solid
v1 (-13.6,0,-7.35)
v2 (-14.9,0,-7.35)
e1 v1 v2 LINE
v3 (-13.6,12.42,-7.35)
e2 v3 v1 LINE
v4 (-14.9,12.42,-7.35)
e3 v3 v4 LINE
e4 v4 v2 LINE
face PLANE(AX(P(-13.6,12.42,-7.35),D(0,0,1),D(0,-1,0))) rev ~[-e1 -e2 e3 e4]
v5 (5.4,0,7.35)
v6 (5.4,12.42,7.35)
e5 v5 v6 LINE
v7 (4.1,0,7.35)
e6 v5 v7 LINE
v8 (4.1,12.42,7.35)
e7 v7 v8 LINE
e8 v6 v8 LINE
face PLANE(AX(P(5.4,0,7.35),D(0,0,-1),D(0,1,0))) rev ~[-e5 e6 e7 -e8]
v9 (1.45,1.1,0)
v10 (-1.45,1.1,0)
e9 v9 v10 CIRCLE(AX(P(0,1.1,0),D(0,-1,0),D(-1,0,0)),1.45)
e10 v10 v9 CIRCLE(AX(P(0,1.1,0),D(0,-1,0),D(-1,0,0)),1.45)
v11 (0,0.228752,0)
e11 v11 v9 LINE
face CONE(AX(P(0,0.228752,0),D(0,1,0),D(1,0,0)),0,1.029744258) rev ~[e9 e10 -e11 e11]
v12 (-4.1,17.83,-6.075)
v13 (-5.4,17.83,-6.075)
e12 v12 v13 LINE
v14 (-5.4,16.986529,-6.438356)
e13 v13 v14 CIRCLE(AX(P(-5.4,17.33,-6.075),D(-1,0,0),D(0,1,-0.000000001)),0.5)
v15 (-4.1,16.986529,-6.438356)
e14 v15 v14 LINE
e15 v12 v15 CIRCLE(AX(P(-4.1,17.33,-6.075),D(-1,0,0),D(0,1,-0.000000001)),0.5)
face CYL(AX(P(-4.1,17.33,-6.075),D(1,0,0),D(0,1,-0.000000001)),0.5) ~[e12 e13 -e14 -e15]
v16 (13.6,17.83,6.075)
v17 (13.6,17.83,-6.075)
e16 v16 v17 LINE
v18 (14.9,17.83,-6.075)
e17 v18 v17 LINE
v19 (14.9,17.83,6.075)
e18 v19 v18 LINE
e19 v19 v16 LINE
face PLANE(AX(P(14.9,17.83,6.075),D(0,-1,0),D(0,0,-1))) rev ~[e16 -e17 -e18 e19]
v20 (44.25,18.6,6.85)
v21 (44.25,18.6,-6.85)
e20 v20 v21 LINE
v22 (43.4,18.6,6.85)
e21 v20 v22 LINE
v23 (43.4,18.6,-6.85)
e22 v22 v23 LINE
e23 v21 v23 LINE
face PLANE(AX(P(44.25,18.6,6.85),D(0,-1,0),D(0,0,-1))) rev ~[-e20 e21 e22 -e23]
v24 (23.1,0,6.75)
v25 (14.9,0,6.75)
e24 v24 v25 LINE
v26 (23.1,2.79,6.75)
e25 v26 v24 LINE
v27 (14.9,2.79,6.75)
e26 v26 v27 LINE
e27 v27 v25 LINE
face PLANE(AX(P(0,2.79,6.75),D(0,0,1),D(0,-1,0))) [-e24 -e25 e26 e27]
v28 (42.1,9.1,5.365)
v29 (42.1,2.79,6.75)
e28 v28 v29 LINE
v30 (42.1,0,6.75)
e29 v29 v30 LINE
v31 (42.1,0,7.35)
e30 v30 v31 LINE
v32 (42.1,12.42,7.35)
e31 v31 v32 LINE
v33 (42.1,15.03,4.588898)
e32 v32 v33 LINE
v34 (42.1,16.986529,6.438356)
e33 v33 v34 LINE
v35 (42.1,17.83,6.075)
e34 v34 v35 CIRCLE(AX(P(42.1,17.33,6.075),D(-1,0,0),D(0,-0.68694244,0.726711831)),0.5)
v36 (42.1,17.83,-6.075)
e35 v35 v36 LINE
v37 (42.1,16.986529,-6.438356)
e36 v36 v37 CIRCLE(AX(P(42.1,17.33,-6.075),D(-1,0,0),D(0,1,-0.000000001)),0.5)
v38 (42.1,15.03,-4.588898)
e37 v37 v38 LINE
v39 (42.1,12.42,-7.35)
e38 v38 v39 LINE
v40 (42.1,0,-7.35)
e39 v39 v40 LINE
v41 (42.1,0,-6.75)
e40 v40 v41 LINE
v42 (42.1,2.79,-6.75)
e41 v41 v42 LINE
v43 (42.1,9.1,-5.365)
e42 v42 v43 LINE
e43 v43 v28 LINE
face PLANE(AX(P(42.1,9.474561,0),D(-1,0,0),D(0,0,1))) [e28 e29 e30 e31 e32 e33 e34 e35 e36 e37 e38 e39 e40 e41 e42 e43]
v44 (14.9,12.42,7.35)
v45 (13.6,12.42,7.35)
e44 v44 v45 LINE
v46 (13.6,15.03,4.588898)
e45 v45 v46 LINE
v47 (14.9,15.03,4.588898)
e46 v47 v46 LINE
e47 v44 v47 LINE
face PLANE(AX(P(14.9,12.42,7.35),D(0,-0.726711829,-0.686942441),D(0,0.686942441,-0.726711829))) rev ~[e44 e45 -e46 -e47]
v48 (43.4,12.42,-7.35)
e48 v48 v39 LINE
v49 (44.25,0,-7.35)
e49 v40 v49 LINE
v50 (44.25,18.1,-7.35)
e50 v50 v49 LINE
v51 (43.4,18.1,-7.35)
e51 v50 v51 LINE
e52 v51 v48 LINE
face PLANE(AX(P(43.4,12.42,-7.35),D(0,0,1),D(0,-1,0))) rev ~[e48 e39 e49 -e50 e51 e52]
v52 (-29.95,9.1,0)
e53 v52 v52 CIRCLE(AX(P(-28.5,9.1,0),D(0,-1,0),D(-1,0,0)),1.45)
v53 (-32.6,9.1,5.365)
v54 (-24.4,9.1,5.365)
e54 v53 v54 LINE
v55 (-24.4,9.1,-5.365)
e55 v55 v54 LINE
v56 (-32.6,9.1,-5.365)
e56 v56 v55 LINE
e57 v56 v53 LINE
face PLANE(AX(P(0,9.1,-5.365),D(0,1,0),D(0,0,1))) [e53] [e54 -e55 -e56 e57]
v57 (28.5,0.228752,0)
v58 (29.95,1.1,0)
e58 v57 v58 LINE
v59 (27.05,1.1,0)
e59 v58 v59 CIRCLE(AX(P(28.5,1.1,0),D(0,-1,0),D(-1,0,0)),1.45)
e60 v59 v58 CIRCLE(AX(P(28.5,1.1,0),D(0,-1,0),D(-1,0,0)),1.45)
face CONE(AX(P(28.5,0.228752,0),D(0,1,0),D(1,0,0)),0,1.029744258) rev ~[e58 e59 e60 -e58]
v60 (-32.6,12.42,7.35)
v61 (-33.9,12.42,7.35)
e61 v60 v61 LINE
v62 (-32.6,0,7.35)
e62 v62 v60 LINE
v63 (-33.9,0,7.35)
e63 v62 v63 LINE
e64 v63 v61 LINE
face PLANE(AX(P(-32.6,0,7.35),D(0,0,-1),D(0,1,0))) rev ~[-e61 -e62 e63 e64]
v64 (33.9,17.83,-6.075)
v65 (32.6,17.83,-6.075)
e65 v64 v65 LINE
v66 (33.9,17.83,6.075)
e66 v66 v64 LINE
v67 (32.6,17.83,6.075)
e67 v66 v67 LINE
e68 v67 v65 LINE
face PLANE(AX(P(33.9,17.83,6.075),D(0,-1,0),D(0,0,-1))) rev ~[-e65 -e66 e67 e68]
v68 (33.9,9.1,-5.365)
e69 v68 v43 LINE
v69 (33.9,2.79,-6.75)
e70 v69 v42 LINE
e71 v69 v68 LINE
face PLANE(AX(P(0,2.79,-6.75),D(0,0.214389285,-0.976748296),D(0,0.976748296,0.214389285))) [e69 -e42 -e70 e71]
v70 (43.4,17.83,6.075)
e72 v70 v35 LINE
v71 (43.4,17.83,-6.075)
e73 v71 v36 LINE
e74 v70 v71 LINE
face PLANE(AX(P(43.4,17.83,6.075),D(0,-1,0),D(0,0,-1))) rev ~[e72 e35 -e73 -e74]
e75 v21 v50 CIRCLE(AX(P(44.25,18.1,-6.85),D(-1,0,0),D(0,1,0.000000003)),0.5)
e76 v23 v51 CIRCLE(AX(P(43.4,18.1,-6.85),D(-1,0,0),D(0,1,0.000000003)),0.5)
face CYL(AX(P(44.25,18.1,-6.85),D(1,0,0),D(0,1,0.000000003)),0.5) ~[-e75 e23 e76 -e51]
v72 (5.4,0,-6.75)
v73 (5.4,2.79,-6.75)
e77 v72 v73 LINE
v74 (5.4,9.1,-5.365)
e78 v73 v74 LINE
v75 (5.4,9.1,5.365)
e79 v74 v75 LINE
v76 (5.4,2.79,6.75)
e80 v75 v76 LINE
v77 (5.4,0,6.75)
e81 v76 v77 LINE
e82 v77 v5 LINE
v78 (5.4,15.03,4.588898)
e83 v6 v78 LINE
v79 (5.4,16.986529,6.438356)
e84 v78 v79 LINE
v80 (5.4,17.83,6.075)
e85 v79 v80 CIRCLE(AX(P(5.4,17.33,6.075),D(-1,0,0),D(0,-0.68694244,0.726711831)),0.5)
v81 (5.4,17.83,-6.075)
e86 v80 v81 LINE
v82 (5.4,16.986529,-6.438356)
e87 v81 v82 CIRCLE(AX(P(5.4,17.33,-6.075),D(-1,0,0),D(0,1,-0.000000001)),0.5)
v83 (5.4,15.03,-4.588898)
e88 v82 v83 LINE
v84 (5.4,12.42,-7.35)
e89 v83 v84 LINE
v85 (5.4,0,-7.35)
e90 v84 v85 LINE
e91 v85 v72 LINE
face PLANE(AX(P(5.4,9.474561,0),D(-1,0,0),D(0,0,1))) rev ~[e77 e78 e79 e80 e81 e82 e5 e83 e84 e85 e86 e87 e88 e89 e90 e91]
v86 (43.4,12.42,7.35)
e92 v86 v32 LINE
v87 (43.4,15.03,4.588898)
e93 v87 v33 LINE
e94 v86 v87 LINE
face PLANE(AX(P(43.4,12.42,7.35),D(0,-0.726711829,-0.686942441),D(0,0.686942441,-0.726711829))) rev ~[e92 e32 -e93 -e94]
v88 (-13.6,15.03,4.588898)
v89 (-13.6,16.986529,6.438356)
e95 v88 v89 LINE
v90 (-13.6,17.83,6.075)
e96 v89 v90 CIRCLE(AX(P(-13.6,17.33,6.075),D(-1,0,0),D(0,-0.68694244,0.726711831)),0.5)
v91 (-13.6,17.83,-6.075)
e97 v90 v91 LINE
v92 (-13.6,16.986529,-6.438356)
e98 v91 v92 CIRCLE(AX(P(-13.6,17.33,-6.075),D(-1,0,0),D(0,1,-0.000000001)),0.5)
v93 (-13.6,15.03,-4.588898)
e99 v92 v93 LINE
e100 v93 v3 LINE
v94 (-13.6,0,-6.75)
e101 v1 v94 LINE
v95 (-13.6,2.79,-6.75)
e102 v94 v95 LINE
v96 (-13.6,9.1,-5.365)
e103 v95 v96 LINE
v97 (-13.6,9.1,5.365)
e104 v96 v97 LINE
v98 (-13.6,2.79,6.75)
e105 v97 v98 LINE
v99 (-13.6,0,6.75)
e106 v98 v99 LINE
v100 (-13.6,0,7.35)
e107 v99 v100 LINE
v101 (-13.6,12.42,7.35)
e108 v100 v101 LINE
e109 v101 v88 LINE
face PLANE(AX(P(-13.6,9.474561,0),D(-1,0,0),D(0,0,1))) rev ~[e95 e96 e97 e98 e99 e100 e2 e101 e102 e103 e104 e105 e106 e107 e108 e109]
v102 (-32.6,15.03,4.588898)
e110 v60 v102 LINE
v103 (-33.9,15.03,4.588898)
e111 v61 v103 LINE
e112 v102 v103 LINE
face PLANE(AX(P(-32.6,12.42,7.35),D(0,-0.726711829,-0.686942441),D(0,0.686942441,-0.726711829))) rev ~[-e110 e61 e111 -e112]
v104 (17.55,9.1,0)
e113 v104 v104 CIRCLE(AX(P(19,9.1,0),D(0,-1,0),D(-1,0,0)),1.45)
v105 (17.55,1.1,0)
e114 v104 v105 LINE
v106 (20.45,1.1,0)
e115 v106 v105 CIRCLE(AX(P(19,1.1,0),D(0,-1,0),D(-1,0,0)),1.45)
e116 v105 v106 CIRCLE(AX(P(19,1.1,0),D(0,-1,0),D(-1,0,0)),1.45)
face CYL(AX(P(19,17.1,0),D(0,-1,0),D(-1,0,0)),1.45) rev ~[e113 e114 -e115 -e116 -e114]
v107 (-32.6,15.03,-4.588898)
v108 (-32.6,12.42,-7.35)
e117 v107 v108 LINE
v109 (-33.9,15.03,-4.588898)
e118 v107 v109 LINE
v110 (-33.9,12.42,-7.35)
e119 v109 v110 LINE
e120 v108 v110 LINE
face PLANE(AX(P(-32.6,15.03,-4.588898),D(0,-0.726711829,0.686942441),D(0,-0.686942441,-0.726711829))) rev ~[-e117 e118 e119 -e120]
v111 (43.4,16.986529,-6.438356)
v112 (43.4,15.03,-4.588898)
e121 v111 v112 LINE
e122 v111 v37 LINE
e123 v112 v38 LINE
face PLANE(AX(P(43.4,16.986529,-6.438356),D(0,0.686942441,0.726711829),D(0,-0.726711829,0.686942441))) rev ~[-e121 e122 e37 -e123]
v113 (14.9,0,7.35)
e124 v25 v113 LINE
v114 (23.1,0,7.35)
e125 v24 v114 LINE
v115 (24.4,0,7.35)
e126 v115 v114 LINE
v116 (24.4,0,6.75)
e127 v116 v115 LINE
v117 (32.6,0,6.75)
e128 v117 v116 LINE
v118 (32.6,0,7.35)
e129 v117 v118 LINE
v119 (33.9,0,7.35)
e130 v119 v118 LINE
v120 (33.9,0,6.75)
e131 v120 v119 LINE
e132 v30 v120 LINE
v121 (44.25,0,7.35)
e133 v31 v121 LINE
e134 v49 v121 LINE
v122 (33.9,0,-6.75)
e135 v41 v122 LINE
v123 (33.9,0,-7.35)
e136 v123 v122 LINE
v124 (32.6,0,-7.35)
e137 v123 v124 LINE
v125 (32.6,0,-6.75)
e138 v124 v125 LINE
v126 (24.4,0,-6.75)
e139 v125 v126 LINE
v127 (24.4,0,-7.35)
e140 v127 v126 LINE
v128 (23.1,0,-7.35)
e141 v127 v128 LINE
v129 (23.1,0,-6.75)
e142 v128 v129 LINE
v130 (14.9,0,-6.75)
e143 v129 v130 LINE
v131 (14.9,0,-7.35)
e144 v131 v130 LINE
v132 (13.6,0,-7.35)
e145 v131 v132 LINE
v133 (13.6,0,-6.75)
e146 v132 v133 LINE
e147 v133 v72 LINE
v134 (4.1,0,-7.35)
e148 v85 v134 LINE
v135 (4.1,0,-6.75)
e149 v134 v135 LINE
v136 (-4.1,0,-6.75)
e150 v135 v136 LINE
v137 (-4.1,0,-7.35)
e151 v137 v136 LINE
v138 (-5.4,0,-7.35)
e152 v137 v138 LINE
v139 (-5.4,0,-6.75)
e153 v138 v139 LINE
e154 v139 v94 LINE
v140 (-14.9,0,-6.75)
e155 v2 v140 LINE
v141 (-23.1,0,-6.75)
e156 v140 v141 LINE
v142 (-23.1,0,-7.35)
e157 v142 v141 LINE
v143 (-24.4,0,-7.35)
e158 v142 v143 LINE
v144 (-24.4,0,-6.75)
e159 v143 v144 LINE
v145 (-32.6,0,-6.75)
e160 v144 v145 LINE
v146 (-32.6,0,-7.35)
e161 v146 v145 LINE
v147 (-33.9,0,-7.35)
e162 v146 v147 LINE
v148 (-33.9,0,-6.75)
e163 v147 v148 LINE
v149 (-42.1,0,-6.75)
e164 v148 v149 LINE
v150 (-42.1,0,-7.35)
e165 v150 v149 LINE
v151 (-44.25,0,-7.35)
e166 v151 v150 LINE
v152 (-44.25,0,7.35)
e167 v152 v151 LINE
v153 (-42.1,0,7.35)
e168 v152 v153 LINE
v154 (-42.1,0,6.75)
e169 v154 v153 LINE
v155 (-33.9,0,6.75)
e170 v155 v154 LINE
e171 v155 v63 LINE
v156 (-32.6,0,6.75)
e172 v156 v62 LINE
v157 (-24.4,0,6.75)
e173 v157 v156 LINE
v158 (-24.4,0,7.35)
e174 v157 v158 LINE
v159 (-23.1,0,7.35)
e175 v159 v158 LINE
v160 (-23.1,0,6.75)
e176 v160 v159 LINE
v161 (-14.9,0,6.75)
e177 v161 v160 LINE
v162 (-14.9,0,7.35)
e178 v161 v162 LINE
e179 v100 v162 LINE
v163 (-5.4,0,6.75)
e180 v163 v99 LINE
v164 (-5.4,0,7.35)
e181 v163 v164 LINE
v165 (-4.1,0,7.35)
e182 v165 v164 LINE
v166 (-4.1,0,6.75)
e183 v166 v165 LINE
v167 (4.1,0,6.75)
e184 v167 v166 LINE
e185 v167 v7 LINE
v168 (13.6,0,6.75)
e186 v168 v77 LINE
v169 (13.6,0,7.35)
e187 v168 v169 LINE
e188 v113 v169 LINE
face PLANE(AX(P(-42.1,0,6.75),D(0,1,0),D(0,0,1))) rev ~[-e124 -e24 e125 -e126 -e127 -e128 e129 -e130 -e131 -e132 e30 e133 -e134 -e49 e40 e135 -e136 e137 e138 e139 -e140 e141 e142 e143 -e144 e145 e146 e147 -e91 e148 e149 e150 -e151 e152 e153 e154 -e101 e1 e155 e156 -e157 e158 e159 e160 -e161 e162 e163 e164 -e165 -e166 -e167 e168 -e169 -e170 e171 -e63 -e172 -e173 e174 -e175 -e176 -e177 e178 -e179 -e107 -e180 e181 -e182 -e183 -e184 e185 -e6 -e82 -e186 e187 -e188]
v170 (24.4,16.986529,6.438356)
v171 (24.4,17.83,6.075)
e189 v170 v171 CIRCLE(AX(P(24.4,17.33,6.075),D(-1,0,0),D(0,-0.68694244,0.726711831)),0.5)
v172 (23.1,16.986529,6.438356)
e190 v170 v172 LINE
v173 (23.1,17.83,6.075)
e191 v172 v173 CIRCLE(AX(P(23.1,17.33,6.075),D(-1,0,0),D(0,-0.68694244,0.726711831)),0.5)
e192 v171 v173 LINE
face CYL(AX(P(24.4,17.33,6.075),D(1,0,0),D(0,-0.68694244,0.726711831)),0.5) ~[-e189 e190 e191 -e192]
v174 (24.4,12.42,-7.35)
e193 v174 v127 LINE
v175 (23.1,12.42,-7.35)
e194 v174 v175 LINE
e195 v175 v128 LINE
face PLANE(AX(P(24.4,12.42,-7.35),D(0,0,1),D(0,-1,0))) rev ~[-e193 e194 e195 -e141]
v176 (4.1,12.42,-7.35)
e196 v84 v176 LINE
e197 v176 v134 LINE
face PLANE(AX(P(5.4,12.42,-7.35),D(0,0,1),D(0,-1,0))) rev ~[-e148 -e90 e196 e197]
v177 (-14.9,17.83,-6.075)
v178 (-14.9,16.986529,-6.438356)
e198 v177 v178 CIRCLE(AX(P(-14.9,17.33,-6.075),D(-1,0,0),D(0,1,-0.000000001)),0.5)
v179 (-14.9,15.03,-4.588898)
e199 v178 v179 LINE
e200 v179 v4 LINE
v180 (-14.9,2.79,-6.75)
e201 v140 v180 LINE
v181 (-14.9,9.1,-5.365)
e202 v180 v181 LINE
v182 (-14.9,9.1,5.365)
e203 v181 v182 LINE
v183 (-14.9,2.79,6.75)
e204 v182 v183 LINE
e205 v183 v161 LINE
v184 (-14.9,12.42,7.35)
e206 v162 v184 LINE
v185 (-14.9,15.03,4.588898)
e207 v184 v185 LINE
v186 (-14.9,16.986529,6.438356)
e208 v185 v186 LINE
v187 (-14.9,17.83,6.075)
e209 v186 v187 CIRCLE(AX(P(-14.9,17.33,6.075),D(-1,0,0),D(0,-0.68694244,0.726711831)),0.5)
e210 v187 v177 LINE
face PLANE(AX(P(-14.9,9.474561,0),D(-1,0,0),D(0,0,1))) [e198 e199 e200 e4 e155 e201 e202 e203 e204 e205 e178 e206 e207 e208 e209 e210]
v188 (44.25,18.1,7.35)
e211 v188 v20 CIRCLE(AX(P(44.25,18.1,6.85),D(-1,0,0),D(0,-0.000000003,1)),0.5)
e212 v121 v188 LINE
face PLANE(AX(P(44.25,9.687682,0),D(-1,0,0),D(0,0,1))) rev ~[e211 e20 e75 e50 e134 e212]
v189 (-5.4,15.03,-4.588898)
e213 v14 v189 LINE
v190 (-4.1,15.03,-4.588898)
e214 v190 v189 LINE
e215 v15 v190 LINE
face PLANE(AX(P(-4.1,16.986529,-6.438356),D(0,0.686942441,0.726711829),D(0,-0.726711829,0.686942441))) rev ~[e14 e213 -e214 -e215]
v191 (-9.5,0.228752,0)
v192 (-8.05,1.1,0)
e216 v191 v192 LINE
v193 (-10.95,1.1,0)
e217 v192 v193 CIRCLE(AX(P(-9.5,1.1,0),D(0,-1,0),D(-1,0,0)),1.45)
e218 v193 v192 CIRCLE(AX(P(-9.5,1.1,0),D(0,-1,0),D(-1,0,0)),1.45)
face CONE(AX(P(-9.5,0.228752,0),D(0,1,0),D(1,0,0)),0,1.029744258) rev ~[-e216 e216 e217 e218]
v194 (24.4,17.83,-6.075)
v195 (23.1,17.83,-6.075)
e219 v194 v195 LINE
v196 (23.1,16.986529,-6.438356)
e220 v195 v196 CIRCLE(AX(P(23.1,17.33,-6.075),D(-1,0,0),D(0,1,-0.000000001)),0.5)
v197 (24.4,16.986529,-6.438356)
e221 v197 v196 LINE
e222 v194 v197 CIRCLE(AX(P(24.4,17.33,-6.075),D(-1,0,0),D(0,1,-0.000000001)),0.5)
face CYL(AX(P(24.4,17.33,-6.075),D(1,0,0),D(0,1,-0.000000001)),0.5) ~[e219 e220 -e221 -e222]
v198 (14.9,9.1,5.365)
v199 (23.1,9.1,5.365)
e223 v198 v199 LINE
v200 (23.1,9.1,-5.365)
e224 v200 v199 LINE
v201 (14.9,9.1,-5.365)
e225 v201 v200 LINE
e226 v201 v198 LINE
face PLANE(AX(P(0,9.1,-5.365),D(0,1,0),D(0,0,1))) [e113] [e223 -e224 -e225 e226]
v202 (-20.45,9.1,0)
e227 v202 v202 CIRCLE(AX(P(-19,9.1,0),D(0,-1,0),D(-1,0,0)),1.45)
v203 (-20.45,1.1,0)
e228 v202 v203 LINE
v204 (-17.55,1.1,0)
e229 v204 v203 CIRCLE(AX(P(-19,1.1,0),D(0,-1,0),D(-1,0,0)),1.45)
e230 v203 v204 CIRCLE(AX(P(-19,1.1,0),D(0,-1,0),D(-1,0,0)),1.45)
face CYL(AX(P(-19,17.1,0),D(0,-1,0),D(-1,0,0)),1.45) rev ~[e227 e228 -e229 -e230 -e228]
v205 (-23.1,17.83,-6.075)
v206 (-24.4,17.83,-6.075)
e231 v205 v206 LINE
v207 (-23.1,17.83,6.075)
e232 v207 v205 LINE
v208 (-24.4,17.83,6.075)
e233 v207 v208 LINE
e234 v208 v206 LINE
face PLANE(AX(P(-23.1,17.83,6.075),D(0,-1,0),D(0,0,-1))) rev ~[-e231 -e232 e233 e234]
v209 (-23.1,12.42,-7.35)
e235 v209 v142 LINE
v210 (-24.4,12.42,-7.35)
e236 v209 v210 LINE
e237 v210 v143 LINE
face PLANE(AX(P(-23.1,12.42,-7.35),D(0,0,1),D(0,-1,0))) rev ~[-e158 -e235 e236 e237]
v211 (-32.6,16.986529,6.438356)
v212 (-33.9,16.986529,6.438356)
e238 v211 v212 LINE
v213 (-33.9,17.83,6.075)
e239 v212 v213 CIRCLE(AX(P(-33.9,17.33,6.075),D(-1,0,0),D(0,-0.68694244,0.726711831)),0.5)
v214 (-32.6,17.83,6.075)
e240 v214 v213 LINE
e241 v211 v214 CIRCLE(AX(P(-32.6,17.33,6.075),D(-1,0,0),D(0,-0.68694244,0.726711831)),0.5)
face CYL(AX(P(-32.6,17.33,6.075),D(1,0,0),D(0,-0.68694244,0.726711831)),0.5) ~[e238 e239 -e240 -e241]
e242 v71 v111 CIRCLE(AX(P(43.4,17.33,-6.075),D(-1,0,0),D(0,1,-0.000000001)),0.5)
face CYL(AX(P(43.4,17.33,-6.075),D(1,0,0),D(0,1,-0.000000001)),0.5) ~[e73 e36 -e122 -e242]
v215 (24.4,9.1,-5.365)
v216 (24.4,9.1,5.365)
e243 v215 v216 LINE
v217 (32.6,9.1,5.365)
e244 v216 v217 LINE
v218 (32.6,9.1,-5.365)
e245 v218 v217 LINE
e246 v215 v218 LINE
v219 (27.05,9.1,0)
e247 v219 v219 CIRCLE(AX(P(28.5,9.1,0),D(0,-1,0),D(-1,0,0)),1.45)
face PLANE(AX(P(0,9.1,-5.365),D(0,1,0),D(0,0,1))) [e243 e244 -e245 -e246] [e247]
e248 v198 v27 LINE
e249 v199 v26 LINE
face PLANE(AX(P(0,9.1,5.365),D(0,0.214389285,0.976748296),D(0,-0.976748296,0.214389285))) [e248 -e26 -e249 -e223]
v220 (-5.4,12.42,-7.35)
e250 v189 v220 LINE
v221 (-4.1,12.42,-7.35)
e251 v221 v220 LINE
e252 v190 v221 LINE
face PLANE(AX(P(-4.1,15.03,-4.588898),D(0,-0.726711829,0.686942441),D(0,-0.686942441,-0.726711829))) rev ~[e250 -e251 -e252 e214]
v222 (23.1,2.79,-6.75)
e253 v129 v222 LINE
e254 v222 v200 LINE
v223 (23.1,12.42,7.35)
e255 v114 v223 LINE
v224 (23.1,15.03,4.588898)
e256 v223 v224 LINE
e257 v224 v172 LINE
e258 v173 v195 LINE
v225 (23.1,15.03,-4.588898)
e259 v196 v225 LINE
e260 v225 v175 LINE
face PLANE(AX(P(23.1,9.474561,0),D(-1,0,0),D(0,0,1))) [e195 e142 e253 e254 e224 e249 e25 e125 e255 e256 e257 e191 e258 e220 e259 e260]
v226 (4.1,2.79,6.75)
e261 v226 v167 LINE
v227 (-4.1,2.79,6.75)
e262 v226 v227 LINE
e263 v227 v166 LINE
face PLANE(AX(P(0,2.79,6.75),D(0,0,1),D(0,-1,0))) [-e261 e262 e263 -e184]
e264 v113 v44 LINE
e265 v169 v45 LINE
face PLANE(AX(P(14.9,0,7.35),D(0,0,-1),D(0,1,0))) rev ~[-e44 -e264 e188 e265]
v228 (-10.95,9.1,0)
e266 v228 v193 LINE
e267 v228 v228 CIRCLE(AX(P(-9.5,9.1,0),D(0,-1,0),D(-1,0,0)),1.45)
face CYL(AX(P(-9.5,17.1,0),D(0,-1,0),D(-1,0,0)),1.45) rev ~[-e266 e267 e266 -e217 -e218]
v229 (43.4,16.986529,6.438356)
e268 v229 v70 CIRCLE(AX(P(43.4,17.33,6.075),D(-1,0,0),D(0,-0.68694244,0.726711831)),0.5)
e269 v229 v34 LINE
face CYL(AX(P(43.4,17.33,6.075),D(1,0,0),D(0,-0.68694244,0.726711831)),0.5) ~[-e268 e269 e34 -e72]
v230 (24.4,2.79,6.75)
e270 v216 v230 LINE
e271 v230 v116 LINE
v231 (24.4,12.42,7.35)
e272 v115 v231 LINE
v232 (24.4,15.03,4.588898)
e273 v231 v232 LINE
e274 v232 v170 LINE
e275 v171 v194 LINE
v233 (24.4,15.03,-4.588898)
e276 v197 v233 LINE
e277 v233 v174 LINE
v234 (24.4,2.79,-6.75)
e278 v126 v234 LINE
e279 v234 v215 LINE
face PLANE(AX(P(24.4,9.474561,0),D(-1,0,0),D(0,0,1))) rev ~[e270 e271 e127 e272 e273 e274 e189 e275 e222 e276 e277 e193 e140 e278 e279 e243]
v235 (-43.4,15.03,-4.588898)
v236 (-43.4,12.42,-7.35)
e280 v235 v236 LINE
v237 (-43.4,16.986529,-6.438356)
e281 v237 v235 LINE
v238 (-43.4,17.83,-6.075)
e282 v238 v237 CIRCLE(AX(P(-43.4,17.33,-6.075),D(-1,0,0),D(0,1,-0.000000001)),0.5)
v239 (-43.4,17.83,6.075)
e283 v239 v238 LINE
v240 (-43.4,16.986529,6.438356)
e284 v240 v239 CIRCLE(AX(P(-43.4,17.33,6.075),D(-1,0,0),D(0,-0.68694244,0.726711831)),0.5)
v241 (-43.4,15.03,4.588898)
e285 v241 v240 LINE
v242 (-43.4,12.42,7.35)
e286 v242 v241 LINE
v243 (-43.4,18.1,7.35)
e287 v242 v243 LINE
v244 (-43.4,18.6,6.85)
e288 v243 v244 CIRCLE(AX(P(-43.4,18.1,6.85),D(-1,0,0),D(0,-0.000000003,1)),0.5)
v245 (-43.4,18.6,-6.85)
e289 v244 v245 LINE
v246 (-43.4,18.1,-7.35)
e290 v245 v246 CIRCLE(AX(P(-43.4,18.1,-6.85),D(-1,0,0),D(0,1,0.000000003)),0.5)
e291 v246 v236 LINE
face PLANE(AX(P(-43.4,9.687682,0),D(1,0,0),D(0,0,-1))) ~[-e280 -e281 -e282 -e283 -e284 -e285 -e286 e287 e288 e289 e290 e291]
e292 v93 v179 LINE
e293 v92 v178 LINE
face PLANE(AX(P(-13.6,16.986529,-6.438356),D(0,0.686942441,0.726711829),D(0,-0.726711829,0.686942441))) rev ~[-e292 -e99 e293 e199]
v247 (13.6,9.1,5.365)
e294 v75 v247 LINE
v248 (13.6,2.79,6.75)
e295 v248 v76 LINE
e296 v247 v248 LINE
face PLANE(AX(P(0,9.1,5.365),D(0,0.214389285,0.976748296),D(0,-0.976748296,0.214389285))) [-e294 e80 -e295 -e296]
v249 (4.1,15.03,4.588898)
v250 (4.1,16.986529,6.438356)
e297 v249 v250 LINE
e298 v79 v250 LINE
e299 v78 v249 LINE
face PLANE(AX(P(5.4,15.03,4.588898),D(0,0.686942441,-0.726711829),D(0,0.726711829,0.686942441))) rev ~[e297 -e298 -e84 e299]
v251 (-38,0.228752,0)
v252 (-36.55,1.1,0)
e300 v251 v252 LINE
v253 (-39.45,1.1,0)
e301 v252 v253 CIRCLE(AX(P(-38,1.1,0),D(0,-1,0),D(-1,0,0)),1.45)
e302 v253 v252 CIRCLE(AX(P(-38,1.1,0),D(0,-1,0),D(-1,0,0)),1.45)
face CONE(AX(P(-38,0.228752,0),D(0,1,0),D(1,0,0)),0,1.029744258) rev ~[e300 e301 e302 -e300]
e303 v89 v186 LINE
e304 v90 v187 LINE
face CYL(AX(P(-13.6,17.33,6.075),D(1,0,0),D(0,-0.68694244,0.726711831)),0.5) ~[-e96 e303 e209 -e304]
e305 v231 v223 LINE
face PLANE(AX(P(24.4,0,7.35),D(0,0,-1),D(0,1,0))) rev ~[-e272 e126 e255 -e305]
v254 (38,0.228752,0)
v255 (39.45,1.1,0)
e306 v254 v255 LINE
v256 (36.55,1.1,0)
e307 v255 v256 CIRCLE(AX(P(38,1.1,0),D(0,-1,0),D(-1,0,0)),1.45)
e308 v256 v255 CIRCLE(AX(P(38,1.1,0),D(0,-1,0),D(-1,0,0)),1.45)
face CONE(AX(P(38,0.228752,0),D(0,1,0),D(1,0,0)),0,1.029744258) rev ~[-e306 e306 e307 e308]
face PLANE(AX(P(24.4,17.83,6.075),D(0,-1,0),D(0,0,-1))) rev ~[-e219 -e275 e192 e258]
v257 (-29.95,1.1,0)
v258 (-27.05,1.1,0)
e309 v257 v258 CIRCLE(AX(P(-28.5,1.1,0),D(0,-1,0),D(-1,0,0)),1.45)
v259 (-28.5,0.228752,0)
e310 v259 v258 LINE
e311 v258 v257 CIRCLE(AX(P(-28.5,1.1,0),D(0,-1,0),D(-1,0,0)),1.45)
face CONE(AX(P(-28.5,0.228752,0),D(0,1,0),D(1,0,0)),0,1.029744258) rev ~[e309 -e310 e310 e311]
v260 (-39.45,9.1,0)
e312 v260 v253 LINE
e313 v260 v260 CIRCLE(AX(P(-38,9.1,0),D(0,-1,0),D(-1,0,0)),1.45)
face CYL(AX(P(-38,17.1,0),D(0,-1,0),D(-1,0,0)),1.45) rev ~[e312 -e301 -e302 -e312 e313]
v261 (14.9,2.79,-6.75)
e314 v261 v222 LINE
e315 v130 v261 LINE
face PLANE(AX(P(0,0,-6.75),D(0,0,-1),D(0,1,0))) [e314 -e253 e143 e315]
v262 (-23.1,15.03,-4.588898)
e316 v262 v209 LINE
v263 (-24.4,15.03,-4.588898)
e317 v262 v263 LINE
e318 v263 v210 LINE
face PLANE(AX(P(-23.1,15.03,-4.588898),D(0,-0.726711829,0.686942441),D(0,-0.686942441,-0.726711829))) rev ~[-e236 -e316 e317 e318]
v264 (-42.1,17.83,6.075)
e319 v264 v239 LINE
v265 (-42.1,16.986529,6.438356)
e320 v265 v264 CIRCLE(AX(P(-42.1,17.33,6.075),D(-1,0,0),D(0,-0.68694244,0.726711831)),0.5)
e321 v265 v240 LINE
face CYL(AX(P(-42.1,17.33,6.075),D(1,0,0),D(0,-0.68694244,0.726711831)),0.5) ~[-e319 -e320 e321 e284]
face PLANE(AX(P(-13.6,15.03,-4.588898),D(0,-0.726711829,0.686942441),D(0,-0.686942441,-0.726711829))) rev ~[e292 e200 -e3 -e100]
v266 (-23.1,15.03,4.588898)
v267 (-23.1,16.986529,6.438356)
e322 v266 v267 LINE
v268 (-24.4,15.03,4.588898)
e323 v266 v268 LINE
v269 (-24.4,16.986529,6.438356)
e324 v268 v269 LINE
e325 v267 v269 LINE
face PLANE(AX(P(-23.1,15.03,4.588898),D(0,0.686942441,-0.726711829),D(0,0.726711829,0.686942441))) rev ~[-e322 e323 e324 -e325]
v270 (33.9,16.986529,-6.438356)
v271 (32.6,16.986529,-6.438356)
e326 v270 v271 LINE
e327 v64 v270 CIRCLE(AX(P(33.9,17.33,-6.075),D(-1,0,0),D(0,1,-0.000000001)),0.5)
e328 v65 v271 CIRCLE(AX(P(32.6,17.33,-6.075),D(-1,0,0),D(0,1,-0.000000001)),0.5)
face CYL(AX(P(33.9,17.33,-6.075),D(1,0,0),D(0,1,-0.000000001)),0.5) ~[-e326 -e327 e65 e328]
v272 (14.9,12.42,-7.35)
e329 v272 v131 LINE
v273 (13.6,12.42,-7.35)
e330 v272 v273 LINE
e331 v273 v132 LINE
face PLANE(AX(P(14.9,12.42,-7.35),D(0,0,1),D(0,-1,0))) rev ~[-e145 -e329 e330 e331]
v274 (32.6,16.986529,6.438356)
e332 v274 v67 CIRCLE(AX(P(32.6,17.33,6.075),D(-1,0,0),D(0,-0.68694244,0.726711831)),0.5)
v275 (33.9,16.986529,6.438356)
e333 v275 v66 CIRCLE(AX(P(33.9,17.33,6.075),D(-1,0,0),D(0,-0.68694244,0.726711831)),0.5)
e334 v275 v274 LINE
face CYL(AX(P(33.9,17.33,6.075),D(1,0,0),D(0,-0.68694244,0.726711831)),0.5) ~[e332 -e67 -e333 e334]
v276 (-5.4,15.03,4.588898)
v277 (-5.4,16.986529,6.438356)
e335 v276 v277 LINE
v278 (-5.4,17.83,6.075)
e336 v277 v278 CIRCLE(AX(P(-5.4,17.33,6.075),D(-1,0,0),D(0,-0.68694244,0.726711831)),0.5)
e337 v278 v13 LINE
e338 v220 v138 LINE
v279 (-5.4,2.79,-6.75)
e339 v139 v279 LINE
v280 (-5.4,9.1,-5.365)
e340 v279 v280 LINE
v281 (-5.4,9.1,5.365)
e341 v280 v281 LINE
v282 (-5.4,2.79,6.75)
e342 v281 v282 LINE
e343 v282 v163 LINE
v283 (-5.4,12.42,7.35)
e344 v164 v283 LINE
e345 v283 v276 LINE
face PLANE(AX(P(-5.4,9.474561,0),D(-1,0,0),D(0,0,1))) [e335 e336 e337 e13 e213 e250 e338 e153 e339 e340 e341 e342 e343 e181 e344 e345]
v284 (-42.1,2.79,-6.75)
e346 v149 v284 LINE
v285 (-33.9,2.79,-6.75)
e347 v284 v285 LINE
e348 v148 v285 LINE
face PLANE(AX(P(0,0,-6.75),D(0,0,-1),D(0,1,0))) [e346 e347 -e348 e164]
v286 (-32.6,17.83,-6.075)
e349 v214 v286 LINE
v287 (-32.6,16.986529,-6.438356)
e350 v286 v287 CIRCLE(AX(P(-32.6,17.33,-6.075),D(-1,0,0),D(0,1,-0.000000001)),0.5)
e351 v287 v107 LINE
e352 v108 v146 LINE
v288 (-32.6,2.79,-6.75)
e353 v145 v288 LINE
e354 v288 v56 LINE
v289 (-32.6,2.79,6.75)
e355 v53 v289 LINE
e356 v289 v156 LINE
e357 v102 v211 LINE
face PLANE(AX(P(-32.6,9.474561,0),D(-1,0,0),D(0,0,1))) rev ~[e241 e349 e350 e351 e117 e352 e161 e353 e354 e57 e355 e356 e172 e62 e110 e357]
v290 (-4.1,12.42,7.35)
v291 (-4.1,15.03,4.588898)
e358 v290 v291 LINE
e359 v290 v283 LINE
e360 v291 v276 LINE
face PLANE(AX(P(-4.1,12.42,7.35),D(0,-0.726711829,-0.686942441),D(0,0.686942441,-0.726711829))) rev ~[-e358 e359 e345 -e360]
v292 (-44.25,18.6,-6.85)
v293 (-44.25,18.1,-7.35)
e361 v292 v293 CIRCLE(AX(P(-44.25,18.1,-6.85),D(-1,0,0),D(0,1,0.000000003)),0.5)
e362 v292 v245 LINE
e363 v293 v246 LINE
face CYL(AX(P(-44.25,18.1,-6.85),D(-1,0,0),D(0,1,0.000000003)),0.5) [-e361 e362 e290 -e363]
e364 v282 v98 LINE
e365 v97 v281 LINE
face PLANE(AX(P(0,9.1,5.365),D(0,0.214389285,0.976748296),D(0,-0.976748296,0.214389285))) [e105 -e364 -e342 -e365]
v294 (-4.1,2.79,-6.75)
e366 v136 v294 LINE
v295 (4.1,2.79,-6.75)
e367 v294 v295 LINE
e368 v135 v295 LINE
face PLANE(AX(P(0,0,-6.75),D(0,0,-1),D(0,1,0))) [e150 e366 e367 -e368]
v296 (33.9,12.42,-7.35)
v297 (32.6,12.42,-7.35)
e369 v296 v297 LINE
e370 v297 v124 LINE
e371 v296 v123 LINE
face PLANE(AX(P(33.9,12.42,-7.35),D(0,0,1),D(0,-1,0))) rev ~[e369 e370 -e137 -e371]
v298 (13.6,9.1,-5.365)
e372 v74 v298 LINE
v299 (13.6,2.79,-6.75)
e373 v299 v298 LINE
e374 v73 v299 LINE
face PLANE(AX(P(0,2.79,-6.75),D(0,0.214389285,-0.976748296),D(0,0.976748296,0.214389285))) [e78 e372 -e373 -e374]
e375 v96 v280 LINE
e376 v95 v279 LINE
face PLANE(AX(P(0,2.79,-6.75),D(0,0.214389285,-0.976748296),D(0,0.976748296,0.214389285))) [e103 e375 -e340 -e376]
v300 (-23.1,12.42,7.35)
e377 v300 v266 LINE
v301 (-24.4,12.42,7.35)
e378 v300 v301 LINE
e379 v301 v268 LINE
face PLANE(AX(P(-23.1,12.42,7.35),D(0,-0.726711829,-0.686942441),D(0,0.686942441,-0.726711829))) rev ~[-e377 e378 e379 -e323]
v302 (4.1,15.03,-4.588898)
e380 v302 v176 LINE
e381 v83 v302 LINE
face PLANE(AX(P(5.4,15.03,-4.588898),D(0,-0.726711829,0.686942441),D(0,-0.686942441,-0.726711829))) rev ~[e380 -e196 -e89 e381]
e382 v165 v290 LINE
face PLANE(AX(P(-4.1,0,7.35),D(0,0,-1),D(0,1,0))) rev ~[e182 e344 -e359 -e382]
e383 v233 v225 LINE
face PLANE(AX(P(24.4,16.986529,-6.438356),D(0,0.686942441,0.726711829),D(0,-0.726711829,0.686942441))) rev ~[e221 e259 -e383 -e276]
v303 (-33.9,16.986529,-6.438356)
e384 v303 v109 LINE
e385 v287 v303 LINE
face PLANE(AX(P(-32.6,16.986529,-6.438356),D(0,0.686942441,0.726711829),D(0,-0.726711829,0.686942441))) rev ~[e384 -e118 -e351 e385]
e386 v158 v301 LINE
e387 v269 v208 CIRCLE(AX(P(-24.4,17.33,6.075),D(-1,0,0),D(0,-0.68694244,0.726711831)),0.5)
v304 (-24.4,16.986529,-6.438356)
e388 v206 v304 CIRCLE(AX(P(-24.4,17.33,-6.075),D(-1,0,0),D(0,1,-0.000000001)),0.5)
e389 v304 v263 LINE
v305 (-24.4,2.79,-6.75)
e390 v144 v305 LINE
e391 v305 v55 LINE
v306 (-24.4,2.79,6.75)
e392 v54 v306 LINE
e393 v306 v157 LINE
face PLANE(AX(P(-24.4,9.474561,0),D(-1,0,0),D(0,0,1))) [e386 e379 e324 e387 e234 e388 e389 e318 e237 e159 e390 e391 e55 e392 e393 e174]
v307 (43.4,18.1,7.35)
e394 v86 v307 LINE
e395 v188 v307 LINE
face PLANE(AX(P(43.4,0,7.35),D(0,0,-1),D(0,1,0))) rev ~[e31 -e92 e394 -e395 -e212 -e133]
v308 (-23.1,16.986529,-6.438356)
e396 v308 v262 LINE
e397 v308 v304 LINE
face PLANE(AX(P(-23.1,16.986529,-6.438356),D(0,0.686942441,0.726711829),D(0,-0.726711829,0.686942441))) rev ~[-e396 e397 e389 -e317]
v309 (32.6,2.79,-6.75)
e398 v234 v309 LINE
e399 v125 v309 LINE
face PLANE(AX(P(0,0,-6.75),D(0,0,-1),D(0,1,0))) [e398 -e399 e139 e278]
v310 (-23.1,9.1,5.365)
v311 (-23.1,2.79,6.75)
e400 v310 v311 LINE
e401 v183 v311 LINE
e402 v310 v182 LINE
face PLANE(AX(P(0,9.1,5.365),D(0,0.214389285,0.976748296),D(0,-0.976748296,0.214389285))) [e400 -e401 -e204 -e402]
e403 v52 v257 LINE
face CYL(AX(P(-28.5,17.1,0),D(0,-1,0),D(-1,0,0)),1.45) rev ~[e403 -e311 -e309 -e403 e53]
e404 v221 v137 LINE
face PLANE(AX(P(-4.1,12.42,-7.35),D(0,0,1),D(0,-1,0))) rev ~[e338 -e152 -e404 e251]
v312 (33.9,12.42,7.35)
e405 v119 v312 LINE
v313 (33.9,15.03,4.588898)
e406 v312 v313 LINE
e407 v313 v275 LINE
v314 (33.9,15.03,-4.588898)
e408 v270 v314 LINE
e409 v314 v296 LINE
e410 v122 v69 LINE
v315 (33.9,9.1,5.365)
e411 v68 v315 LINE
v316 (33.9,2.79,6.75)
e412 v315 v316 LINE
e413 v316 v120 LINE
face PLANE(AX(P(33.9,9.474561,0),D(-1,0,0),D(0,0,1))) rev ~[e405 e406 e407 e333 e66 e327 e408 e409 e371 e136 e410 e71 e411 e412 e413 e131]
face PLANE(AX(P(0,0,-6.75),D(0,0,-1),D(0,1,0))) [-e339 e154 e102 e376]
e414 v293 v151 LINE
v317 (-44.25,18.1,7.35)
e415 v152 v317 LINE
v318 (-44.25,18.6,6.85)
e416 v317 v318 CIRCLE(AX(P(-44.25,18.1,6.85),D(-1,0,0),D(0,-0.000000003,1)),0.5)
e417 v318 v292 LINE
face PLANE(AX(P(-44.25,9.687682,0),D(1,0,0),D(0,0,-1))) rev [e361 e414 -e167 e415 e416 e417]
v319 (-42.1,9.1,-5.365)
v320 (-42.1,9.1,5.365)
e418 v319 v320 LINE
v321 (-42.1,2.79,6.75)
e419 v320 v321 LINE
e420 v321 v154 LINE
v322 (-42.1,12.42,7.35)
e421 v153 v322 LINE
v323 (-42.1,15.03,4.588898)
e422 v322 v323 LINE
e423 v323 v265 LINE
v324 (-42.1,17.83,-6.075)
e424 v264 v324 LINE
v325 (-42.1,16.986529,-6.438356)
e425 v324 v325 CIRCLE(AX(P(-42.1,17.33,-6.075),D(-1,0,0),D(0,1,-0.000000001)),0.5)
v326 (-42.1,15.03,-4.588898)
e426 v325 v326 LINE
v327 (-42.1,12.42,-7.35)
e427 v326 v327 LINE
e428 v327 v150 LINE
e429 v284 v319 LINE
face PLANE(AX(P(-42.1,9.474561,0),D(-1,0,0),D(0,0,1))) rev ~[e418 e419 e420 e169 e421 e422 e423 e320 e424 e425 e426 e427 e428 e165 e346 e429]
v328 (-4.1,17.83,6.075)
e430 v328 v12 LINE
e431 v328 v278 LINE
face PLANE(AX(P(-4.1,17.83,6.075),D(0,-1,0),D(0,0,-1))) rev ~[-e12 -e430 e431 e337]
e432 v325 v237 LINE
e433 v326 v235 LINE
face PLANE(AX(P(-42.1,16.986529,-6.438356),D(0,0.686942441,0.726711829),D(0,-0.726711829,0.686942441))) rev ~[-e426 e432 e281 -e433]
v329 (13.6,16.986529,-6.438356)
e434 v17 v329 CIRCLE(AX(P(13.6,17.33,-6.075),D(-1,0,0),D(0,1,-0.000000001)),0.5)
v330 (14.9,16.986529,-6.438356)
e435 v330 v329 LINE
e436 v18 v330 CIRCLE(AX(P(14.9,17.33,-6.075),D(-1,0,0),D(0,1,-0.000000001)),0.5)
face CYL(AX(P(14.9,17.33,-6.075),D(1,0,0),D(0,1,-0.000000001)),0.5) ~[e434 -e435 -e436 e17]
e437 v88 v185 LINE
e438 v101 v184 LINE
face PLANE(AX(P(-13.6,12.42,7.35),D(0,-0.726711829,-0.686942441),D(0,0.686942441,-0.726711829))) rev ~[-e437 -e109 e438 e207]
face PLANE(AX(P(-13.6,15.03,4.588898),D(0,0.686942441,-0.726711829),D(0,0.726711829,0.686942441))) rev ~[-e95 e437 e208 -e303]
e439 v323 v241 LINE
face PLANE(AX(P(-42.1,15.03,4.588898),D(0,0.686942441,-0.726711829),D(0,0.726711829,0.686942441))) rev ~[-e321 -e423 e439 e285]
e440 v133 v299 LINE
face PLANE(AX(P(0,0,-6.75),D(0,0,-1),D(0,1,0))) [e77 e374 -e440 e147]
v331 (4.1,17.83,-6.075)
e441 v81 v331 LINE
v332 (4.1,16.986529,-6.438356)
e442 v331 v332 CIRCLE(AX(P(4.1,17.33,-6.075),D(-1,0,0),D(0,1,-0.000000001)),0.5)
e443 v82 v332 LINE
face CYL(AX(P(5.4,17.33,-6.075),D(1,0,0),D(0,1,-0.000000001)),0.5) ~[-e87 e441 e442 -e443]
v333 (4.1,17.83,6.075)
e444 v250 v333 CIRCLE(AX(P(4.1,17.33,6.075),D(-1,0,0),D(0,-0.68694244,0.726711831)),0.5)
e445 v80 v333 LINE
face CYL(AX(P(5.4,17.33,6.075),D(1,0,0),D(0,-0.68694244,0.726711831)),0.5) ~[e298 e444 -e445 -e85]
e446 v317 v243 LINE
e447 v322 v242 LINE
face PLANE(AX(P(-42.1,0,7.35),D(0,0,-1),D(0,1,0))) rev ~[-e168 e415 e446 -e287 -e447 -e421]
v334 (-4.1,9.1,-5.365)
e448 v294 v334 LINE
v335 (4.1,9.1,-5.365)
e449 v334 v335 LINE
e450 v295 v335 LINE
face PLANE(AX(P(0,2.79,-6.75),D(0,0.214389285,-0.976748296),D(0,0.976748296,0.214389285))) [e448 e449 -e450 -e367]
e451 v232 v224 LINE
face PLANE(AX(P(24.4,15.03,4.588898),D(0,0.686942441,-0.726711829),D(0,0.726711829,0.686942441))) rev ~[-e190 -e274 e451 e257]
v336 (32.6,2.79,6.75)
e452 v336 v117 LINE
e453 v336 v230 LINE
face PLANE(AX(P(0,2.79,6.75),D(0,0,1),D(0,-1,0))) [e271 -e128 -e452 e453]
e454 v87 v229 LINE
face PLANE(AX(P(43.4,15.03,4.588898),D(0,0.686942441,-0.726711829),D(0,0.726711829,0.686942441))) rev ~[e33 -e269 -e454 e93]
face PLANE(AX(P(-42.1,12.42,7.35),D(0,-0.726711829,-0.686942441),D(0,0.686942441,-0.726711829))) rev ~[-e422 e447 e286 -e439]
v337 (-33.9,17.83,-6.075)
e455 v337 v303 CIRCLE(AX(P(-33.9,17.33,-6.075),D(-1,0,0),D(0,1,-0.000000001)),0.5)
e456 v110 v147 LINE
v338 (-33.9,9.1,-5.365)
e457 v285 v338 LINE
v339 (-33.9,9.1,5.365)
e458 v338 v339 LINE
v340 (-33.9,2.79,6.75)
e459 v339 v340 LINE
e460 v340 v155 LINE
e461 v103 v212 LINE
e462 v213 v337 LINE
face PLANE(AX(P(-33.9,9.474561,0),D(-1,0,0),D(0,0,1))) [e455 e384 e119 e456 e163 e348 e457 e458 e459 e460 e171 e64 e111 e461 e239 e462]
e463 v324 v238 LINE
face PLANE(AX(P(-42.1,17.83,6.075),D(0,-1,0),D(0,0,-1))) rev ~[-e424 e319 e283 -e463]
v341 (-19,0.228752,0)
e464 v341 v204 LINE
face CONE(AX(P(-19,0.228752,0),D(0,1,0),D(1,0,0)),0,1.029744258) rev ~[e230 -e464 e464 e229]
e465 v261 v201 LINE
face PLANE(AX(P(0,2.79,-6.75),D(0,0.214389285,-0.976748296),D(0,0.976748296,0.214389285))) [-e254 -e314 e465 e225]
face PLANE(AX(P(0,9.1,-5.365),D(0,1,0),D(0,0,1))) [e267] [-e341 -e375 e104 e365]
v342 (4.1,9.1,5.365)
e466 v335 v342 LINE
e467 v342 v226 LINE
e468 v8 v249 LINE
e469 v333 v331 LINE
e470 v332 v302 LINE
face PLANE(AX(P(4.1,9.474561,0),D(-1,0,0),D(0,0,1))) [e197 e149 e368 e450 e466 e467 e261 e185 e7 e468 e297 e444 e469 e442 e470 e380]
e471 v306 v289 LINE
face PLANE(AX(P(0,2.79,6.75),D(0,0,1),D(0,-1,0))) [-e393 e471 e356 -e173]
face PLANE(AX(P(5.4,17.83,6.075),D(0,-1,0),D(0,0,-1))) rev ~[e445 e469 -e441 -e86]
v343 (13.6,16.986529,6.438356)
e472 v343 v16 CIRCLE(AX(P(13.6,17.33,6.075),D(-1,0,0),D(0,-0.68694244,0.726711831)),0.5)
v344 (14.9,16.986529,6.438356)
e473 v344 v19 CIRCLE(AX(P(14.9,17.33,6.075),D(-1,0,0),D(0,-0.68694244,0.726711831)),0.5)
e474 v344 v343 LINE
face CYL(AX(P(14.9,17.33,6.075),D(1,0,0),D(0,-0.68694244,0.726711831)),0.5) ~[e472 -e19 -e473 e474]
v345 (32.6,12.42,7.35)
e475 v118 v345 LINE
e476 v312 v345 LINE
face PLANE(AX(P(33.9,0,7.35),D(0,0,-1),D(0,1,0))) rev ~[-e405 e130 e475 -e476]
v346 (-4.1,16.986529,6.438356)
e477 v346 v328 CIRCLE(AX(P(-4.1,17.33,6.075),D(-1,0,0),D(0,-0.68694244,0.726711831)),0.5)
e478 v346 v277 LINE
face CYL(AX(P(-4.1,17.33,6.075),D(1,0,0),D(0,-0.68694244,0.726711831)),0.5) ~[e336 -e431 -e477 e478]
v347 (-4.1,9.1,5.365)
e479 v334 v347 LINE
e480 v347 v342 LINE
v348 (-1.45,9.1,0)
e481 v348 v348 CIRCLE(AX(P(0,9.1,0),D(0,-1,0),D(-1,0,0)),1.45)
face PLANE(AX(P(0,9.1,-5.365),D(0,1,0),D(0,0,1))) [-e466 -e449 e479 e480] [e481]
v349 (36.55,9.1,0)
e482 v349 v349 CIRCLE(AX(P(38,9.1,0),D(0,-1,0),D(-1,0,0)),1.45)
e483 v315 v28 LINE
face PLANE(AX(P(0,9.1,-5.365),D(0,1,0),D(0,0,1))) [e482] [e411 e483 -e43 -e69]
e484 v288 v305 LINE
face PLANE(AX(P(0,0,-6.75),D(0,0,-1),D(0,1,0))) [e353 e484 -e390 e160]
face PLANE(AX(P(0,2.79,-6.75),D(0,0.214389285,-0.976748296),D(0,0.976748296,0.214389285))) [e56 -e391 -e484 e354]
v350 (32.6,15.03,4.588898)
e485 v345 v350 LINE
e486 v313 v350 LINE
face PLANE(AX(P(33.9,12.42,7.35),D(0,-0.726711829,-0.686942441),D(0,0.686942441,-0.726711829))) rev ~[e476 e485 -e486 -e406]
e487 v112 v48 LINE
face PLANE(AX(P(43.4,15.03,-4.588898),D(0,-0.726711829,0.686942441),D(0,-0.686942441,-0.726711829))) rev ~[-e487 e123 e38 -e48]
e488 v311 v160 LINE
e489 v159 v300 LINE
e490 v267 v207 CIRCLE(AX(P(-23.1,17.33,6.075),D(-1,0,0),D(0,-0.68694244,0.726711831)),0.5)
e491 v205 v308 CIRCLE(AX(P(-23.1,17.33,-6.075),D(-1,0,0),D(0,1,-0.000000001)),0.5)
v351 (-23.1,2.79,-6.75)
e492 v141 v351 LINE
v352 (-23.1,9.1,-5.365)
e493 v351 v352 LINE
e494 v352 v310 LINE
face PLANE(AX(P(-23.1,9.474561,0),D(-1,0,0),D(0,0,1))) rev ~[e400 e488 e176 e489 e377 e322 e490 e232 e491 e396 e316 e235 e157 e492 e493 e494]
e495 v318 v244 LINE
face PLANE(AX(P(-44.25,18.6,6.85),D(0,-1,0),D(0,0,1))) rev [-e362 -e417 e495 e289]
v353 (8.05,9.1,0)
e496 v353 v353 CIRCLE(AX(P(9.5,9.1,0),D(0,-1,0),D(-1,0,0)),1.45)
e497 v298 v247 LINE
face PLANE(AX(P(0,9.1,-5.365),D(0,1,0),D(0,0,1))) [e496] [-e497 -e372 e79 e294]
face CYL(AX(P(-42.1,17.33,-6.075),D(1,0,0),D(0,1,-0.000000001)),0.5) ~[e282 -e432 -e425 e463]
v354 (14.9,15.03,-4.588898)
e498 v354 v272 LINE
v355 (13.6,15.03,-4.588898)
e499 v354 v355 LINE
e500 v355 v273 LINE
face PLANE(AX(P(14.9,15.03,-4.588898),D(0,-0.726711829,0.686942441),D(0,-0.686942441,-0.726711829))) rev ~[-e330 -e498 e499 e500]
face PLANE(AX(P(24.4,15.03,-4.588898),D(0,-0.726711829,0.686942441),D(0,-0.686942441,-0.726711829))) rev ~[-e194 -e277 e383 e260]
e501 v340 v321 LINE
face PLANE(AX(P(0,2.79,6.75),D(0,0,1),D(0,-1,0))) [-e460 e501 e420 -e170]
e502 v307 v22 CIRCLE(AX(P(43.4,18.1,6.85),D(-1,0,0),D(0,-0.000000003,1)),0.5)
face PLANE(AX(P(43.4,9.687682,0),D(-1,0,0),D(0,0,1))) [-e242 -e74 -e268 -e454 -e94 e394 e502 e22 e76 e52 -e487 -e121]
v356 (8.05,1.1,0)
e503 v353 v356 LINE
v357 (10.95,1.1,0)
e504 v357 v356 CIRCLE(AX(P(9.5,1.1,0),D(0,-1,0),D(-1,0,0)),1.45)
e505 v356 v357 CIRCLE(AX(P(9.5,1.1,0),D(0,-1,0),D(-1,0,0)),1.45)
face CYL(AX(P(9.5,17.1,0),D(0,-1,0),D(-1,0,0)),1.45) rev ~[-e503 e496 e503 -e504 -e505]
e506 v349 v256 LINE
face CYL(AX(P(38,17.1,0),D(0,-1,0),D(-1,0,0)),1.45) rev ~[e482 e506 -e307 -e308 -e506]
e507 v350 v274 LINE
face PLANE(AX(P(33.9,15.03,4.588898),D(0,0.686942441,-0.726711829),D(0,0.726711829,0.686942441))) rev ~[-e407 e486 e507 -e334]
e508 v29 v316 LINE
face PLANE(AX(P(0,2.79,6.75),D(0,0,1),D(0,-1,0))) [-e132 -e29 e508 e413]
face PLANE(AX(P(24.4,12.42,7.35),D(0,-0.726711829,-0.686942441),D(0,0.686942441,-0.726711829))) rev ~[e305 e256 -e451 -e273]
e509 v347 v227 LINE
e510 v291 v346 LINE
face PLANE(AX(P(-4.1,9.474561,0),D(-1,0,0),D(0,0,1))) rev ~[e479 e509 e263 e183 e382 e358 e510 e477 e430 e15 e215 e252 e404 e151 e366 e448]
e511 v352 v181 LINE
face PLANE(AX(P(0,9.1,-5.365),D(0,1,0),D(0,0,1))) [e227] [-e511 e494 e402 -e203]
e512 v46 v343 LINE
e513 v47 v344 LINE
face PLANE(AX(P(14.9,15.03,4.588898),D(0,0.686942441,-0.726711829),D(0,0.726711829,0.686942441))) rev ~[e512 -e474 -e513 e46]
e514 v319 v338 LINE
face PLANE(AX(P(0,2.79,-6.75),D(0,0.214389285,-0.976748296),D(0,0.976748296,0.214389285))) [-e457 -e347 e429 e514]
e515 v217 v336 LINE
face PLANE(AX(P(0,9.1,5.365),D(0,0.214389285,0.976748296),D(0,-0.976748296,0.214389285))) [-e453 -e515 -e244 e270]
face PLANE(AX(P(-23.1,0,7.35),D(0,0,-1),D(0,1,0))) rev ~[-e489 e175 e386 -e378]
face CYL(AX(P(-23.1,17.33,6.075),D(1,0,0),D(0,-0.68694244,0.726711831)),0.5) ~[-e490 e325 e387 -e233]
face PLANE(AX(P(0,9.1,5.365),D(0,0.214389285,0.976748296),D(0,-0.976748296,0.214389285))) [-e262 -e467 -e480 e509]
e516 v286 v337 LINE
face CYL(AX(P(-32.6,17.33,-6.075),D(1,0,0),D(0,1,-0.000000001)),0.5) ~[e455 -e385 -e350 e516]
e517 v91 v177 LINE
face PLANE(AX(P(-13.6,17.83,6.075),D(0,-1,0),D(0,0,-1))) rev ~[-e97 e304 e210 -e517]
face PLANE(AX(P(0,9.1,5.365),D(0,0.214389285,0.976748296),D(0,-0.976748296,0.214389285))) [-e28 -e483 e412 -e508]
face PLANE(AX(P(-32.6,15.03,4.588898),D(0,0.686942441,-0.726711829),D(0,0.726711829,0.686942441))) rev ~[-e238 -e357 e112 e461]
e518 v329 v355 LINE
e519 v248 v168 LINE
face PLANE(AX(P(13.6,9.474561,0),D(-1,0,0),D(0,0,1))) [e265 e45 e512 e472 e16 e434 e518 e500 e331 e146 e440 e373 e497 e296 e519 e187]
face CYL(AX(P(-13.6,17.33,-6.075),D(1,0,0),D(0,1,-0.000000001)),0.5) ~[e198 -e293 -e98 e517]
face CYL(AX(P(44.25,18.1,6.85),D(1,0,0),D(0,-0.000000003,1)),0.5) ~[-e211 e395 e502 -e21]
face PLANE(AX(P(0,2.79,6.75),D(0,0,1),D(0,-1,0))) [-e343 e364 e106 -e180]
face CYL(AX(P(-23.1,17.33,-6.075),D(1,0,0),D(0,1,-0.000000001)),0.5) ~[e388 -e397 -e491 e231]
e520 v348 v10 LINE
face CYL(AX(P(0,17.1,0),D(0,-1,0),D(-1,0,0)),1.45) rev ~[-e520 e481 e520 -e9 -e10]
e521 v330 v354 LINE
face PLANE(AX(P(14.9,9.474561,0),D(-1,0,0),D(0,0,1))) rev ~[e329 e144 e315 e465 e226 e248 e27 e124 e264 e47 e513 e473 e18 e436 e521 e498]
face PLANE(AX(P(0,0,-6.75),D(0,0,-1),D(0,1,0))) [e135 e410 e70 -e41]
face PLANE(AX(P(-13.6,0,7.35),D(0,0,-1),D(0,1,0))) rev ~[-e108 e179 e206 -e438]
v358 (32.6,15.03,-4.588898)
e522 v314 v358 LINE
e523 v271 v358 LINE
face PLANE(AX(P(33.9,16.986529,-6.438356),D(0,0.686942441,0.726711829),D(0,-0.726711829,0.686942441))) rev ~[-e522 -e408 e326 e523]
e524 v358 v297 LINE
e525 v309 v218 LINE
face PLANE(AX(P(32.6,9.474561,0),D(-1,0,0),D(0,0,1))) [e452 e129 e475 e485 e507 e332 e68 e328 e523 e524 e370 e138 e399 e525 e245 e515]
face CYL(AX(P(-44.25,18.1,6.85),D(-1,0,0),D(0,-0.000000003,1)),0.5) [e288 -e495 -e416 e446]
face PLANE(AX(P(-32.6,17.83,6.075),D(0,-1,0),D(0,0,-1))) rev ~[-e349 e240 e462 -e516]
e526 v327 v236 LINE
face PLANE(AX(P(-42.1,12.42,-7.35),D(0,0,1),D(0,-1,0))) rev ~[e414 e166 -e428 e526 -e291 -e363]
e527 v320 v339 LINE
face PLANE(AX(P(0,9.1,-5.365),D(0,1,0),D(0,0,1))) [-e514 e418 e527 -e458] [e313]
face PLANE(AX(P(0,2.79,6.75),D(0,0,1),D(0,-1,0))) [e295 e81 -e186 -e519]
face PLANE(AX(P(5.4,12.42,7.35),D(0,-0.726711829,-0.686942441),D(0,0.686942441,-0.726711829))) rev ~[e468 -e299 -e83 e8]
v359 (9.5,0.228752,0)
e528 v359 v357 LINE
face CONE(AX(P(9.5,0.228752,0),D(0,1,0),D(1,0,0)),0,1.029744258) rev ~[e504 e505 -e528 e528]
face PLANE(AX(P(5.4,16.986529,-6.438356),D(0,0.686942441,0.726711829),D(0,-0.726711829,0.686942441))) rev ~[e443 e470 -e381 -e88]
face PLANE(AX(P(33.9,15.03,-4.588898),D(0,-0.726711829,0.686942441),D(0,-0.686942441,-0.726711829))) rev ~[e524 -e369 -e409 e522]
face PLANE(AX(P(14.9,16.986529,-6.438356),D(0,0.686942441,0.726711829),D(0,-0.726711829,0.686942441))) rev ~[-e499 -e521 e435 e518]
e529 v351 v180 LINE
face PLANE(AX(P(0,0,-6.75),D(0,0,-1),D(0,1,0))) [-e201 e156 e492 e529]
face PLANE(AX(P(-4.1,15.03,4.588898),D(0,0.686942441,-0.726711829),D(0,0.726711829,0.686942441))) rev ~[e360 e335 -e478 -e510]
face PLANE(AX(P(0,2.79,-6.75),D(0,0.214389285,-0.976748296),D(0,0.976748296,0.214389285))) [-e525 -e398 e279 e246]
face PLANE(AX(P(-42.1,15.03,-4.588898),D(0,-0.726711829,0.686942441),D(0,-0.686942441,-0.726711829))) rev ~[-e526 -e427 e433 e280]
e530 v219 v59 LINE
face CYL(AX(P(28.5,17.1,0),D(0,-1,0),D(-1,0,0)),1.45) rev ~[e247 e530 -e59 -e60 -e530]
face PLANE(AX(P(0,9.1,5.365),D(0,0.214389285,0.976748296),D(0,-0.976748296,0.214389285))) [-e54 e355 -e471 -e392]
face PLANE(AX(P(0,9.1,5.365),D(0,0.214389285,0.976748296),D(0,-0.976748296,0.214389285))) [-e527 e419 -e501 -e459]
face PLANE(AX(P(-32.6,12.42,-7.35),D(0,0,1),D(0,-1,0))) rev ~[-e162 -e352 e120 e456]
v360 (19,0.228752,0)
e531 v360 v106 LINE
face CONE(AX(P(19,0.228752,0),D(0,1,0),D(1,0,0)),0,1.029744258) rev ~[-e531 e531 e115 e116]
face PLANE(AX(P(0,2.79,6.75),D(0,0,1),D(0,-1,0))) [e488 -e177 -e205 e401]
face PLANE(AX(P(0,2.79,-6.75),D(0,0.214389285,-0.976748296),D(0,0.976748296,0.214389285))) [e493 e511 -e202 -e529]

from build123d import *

# Parameters (mm, degrees)
BOSS_EXTRUDE1_DEPTH         = 44.25
BOSS_EXTRUDE2_DEPTH         = 0.85
BOSS_EXTRUDE3_DEPTH         = 1.3
LPATTERN1_COUNT             = 10
LPATTERN1_PITCH             = 9.5
M3_5X0_6_TAPPED_HOLE1_D     = 2.9
M3_5X0_6_TAPPED_HOLE1_DEPTH = 8
M3_5X0_6_TAPPED_HOLE1_TIP   = 0.871247898


with BuildPart() as part:
    # Sketch1 → Boss-Extrude1 (new body, symmetric)
    with BuildSketch(Plane(origin=(0, 0, 0), x_dir=(0, 0, -1), z_dir=(1, 0, 0))):
        Polygon((6.75, 0), (6.75, 2.79), (5.365, 9.1), (-5.365, 9.1), (-6.75, 2.79), (-6.75, 0), align=None)
    extrude(amount=BOSS_EXTRUDE1_DEPTH, both=True)

    # Sketch3 → Boss-Extrude2 (add)
    with BuildSketch(Plane(origin=(44.25, 0, 0), x_dir=(0, 0, -1), z_dir=(1, 0, 0))):
        with BuildLine():
            Line((-6.75, 0), (-7.35, 0))
            Line((-7.35, 0), (-7.35, 18.1))
            ThreePointArc((-7.35, 18.1), (-7.203553391, 18.453553391), (-6.85, 18.6))
            Line((-6.85, 18.6), (6.85, 18.6))
            ThreePointArc((6.85, 18.6), (7.203553391, 18.453553391), (7.35, 18.1))
            Line((7.35, 18.1), (7.35, 0))
            Line((7.35, 0), (6.75, 0))
            Line((6.75, 0), (6.75, 2.79))
            Line((6.75, 2.79), (5.365, 9.1))
            Line((5.365, 9.1), (-5.365, 9.1))
            Line((-5.365, 9.1), (-6.75, 2.79))
            Line((-6.75, 2.79), (-6.75, 0))
        make_face()
    boss_extrude2 = extrude(amount=-BOSS_EXTRUDE2_DEPTH)

    # Mirror1: Boss-Extrude2 across plane
    add(boss_extrude2.mirror(Plane(origin=(0, 0, 0), x_dir=(0, 0, 1), z_dir=(1, 0, 0))))

    # Sketch4 → Boss-Extrude3 (add)
    with BuildSketch(Plane.ZY.offset(-43.4)):
        with BuildLine():
            Line((7.35, 0), (7.35, 12.42))
            Line((7.35, 12.42), (4.588898397, 15.03))
            Line((4.588898397, 15.03), (6.438355915, 16.98652878))
            ThreePointArc((6.438355915, 16.98652878), (6.534203446, 17.527818591), (6.075, 17.83))
            Line((6.075, 17.83), (-6.075, 17.83))
            ThreePointArc((-6.075, 17.83), (-6.534203446, 17.527818591), (-6.438355915, 16.98652878))
            Line((-6.438355915, 16.98652878), (-4.588898397, 15.03))
            Line((-4.588898397, 15.03), (-7.35, 12.42))
            Line((-7.35, 12.42), (-7.35, 0))
            Line((-7.35, 0), (-6.75, 0))
            Line((-6.75, 0), (-6.75, 2.79))
            Line((-6.75, 2.79), (-5.365, 9.1))
            Line((-5.365, 9.1), (5.365, 9.1))
            Line((5.365, 9.1), (6.75, 2.79))
            Line((6.75, 2.79), (6.75, 0))
            Line((6.75, 0), (7.35, 0))
        make_face()
    boss_extrude3 = extrude(amount=BOSS_EXTRUDE3_DEPTH)

    # LPattern1: Boss-Extrude3 ×10
    with Locations(*[(-i * LPATTERN1_PITCH, 0, 0) for i in range(1, LPATTERN1_COUNT)]):
        add(boss_extrude3)

    # M3.5x0.6 Tapped Hole1
    with Locations(Plane(origin=(0, 9.1, 0), x_dir=(1, 0, 0), z_dir=(0, 1, 0))):
        with Locations((-38, 0), (-28.5, 0), (-19, 0), (-9.5, 0), (0, 0), (9.5, 0), (19, 0), (28.5, 0), (38, 0)):
            Hole(M3_5X0_6_TAPPED_HOLE1_D / 2, depth=M3_5X0_6_TAPPED_HOLE1_DEPTH)
            with Locations((0, 0, -(M3_5X0_6_TAPPED_HOLE1_DEPTH + M3_5X0_6_TAPPED_HOLE1_TIP / 2))):  # 118° drill point
                Cone(0, M3_5X0_6_TAPPED_HOLE1_D / 2, M3_5X0_6_TAPPED_HOLE1_TIP, mode=Mode.SUBTRACT)


solid = part.part
